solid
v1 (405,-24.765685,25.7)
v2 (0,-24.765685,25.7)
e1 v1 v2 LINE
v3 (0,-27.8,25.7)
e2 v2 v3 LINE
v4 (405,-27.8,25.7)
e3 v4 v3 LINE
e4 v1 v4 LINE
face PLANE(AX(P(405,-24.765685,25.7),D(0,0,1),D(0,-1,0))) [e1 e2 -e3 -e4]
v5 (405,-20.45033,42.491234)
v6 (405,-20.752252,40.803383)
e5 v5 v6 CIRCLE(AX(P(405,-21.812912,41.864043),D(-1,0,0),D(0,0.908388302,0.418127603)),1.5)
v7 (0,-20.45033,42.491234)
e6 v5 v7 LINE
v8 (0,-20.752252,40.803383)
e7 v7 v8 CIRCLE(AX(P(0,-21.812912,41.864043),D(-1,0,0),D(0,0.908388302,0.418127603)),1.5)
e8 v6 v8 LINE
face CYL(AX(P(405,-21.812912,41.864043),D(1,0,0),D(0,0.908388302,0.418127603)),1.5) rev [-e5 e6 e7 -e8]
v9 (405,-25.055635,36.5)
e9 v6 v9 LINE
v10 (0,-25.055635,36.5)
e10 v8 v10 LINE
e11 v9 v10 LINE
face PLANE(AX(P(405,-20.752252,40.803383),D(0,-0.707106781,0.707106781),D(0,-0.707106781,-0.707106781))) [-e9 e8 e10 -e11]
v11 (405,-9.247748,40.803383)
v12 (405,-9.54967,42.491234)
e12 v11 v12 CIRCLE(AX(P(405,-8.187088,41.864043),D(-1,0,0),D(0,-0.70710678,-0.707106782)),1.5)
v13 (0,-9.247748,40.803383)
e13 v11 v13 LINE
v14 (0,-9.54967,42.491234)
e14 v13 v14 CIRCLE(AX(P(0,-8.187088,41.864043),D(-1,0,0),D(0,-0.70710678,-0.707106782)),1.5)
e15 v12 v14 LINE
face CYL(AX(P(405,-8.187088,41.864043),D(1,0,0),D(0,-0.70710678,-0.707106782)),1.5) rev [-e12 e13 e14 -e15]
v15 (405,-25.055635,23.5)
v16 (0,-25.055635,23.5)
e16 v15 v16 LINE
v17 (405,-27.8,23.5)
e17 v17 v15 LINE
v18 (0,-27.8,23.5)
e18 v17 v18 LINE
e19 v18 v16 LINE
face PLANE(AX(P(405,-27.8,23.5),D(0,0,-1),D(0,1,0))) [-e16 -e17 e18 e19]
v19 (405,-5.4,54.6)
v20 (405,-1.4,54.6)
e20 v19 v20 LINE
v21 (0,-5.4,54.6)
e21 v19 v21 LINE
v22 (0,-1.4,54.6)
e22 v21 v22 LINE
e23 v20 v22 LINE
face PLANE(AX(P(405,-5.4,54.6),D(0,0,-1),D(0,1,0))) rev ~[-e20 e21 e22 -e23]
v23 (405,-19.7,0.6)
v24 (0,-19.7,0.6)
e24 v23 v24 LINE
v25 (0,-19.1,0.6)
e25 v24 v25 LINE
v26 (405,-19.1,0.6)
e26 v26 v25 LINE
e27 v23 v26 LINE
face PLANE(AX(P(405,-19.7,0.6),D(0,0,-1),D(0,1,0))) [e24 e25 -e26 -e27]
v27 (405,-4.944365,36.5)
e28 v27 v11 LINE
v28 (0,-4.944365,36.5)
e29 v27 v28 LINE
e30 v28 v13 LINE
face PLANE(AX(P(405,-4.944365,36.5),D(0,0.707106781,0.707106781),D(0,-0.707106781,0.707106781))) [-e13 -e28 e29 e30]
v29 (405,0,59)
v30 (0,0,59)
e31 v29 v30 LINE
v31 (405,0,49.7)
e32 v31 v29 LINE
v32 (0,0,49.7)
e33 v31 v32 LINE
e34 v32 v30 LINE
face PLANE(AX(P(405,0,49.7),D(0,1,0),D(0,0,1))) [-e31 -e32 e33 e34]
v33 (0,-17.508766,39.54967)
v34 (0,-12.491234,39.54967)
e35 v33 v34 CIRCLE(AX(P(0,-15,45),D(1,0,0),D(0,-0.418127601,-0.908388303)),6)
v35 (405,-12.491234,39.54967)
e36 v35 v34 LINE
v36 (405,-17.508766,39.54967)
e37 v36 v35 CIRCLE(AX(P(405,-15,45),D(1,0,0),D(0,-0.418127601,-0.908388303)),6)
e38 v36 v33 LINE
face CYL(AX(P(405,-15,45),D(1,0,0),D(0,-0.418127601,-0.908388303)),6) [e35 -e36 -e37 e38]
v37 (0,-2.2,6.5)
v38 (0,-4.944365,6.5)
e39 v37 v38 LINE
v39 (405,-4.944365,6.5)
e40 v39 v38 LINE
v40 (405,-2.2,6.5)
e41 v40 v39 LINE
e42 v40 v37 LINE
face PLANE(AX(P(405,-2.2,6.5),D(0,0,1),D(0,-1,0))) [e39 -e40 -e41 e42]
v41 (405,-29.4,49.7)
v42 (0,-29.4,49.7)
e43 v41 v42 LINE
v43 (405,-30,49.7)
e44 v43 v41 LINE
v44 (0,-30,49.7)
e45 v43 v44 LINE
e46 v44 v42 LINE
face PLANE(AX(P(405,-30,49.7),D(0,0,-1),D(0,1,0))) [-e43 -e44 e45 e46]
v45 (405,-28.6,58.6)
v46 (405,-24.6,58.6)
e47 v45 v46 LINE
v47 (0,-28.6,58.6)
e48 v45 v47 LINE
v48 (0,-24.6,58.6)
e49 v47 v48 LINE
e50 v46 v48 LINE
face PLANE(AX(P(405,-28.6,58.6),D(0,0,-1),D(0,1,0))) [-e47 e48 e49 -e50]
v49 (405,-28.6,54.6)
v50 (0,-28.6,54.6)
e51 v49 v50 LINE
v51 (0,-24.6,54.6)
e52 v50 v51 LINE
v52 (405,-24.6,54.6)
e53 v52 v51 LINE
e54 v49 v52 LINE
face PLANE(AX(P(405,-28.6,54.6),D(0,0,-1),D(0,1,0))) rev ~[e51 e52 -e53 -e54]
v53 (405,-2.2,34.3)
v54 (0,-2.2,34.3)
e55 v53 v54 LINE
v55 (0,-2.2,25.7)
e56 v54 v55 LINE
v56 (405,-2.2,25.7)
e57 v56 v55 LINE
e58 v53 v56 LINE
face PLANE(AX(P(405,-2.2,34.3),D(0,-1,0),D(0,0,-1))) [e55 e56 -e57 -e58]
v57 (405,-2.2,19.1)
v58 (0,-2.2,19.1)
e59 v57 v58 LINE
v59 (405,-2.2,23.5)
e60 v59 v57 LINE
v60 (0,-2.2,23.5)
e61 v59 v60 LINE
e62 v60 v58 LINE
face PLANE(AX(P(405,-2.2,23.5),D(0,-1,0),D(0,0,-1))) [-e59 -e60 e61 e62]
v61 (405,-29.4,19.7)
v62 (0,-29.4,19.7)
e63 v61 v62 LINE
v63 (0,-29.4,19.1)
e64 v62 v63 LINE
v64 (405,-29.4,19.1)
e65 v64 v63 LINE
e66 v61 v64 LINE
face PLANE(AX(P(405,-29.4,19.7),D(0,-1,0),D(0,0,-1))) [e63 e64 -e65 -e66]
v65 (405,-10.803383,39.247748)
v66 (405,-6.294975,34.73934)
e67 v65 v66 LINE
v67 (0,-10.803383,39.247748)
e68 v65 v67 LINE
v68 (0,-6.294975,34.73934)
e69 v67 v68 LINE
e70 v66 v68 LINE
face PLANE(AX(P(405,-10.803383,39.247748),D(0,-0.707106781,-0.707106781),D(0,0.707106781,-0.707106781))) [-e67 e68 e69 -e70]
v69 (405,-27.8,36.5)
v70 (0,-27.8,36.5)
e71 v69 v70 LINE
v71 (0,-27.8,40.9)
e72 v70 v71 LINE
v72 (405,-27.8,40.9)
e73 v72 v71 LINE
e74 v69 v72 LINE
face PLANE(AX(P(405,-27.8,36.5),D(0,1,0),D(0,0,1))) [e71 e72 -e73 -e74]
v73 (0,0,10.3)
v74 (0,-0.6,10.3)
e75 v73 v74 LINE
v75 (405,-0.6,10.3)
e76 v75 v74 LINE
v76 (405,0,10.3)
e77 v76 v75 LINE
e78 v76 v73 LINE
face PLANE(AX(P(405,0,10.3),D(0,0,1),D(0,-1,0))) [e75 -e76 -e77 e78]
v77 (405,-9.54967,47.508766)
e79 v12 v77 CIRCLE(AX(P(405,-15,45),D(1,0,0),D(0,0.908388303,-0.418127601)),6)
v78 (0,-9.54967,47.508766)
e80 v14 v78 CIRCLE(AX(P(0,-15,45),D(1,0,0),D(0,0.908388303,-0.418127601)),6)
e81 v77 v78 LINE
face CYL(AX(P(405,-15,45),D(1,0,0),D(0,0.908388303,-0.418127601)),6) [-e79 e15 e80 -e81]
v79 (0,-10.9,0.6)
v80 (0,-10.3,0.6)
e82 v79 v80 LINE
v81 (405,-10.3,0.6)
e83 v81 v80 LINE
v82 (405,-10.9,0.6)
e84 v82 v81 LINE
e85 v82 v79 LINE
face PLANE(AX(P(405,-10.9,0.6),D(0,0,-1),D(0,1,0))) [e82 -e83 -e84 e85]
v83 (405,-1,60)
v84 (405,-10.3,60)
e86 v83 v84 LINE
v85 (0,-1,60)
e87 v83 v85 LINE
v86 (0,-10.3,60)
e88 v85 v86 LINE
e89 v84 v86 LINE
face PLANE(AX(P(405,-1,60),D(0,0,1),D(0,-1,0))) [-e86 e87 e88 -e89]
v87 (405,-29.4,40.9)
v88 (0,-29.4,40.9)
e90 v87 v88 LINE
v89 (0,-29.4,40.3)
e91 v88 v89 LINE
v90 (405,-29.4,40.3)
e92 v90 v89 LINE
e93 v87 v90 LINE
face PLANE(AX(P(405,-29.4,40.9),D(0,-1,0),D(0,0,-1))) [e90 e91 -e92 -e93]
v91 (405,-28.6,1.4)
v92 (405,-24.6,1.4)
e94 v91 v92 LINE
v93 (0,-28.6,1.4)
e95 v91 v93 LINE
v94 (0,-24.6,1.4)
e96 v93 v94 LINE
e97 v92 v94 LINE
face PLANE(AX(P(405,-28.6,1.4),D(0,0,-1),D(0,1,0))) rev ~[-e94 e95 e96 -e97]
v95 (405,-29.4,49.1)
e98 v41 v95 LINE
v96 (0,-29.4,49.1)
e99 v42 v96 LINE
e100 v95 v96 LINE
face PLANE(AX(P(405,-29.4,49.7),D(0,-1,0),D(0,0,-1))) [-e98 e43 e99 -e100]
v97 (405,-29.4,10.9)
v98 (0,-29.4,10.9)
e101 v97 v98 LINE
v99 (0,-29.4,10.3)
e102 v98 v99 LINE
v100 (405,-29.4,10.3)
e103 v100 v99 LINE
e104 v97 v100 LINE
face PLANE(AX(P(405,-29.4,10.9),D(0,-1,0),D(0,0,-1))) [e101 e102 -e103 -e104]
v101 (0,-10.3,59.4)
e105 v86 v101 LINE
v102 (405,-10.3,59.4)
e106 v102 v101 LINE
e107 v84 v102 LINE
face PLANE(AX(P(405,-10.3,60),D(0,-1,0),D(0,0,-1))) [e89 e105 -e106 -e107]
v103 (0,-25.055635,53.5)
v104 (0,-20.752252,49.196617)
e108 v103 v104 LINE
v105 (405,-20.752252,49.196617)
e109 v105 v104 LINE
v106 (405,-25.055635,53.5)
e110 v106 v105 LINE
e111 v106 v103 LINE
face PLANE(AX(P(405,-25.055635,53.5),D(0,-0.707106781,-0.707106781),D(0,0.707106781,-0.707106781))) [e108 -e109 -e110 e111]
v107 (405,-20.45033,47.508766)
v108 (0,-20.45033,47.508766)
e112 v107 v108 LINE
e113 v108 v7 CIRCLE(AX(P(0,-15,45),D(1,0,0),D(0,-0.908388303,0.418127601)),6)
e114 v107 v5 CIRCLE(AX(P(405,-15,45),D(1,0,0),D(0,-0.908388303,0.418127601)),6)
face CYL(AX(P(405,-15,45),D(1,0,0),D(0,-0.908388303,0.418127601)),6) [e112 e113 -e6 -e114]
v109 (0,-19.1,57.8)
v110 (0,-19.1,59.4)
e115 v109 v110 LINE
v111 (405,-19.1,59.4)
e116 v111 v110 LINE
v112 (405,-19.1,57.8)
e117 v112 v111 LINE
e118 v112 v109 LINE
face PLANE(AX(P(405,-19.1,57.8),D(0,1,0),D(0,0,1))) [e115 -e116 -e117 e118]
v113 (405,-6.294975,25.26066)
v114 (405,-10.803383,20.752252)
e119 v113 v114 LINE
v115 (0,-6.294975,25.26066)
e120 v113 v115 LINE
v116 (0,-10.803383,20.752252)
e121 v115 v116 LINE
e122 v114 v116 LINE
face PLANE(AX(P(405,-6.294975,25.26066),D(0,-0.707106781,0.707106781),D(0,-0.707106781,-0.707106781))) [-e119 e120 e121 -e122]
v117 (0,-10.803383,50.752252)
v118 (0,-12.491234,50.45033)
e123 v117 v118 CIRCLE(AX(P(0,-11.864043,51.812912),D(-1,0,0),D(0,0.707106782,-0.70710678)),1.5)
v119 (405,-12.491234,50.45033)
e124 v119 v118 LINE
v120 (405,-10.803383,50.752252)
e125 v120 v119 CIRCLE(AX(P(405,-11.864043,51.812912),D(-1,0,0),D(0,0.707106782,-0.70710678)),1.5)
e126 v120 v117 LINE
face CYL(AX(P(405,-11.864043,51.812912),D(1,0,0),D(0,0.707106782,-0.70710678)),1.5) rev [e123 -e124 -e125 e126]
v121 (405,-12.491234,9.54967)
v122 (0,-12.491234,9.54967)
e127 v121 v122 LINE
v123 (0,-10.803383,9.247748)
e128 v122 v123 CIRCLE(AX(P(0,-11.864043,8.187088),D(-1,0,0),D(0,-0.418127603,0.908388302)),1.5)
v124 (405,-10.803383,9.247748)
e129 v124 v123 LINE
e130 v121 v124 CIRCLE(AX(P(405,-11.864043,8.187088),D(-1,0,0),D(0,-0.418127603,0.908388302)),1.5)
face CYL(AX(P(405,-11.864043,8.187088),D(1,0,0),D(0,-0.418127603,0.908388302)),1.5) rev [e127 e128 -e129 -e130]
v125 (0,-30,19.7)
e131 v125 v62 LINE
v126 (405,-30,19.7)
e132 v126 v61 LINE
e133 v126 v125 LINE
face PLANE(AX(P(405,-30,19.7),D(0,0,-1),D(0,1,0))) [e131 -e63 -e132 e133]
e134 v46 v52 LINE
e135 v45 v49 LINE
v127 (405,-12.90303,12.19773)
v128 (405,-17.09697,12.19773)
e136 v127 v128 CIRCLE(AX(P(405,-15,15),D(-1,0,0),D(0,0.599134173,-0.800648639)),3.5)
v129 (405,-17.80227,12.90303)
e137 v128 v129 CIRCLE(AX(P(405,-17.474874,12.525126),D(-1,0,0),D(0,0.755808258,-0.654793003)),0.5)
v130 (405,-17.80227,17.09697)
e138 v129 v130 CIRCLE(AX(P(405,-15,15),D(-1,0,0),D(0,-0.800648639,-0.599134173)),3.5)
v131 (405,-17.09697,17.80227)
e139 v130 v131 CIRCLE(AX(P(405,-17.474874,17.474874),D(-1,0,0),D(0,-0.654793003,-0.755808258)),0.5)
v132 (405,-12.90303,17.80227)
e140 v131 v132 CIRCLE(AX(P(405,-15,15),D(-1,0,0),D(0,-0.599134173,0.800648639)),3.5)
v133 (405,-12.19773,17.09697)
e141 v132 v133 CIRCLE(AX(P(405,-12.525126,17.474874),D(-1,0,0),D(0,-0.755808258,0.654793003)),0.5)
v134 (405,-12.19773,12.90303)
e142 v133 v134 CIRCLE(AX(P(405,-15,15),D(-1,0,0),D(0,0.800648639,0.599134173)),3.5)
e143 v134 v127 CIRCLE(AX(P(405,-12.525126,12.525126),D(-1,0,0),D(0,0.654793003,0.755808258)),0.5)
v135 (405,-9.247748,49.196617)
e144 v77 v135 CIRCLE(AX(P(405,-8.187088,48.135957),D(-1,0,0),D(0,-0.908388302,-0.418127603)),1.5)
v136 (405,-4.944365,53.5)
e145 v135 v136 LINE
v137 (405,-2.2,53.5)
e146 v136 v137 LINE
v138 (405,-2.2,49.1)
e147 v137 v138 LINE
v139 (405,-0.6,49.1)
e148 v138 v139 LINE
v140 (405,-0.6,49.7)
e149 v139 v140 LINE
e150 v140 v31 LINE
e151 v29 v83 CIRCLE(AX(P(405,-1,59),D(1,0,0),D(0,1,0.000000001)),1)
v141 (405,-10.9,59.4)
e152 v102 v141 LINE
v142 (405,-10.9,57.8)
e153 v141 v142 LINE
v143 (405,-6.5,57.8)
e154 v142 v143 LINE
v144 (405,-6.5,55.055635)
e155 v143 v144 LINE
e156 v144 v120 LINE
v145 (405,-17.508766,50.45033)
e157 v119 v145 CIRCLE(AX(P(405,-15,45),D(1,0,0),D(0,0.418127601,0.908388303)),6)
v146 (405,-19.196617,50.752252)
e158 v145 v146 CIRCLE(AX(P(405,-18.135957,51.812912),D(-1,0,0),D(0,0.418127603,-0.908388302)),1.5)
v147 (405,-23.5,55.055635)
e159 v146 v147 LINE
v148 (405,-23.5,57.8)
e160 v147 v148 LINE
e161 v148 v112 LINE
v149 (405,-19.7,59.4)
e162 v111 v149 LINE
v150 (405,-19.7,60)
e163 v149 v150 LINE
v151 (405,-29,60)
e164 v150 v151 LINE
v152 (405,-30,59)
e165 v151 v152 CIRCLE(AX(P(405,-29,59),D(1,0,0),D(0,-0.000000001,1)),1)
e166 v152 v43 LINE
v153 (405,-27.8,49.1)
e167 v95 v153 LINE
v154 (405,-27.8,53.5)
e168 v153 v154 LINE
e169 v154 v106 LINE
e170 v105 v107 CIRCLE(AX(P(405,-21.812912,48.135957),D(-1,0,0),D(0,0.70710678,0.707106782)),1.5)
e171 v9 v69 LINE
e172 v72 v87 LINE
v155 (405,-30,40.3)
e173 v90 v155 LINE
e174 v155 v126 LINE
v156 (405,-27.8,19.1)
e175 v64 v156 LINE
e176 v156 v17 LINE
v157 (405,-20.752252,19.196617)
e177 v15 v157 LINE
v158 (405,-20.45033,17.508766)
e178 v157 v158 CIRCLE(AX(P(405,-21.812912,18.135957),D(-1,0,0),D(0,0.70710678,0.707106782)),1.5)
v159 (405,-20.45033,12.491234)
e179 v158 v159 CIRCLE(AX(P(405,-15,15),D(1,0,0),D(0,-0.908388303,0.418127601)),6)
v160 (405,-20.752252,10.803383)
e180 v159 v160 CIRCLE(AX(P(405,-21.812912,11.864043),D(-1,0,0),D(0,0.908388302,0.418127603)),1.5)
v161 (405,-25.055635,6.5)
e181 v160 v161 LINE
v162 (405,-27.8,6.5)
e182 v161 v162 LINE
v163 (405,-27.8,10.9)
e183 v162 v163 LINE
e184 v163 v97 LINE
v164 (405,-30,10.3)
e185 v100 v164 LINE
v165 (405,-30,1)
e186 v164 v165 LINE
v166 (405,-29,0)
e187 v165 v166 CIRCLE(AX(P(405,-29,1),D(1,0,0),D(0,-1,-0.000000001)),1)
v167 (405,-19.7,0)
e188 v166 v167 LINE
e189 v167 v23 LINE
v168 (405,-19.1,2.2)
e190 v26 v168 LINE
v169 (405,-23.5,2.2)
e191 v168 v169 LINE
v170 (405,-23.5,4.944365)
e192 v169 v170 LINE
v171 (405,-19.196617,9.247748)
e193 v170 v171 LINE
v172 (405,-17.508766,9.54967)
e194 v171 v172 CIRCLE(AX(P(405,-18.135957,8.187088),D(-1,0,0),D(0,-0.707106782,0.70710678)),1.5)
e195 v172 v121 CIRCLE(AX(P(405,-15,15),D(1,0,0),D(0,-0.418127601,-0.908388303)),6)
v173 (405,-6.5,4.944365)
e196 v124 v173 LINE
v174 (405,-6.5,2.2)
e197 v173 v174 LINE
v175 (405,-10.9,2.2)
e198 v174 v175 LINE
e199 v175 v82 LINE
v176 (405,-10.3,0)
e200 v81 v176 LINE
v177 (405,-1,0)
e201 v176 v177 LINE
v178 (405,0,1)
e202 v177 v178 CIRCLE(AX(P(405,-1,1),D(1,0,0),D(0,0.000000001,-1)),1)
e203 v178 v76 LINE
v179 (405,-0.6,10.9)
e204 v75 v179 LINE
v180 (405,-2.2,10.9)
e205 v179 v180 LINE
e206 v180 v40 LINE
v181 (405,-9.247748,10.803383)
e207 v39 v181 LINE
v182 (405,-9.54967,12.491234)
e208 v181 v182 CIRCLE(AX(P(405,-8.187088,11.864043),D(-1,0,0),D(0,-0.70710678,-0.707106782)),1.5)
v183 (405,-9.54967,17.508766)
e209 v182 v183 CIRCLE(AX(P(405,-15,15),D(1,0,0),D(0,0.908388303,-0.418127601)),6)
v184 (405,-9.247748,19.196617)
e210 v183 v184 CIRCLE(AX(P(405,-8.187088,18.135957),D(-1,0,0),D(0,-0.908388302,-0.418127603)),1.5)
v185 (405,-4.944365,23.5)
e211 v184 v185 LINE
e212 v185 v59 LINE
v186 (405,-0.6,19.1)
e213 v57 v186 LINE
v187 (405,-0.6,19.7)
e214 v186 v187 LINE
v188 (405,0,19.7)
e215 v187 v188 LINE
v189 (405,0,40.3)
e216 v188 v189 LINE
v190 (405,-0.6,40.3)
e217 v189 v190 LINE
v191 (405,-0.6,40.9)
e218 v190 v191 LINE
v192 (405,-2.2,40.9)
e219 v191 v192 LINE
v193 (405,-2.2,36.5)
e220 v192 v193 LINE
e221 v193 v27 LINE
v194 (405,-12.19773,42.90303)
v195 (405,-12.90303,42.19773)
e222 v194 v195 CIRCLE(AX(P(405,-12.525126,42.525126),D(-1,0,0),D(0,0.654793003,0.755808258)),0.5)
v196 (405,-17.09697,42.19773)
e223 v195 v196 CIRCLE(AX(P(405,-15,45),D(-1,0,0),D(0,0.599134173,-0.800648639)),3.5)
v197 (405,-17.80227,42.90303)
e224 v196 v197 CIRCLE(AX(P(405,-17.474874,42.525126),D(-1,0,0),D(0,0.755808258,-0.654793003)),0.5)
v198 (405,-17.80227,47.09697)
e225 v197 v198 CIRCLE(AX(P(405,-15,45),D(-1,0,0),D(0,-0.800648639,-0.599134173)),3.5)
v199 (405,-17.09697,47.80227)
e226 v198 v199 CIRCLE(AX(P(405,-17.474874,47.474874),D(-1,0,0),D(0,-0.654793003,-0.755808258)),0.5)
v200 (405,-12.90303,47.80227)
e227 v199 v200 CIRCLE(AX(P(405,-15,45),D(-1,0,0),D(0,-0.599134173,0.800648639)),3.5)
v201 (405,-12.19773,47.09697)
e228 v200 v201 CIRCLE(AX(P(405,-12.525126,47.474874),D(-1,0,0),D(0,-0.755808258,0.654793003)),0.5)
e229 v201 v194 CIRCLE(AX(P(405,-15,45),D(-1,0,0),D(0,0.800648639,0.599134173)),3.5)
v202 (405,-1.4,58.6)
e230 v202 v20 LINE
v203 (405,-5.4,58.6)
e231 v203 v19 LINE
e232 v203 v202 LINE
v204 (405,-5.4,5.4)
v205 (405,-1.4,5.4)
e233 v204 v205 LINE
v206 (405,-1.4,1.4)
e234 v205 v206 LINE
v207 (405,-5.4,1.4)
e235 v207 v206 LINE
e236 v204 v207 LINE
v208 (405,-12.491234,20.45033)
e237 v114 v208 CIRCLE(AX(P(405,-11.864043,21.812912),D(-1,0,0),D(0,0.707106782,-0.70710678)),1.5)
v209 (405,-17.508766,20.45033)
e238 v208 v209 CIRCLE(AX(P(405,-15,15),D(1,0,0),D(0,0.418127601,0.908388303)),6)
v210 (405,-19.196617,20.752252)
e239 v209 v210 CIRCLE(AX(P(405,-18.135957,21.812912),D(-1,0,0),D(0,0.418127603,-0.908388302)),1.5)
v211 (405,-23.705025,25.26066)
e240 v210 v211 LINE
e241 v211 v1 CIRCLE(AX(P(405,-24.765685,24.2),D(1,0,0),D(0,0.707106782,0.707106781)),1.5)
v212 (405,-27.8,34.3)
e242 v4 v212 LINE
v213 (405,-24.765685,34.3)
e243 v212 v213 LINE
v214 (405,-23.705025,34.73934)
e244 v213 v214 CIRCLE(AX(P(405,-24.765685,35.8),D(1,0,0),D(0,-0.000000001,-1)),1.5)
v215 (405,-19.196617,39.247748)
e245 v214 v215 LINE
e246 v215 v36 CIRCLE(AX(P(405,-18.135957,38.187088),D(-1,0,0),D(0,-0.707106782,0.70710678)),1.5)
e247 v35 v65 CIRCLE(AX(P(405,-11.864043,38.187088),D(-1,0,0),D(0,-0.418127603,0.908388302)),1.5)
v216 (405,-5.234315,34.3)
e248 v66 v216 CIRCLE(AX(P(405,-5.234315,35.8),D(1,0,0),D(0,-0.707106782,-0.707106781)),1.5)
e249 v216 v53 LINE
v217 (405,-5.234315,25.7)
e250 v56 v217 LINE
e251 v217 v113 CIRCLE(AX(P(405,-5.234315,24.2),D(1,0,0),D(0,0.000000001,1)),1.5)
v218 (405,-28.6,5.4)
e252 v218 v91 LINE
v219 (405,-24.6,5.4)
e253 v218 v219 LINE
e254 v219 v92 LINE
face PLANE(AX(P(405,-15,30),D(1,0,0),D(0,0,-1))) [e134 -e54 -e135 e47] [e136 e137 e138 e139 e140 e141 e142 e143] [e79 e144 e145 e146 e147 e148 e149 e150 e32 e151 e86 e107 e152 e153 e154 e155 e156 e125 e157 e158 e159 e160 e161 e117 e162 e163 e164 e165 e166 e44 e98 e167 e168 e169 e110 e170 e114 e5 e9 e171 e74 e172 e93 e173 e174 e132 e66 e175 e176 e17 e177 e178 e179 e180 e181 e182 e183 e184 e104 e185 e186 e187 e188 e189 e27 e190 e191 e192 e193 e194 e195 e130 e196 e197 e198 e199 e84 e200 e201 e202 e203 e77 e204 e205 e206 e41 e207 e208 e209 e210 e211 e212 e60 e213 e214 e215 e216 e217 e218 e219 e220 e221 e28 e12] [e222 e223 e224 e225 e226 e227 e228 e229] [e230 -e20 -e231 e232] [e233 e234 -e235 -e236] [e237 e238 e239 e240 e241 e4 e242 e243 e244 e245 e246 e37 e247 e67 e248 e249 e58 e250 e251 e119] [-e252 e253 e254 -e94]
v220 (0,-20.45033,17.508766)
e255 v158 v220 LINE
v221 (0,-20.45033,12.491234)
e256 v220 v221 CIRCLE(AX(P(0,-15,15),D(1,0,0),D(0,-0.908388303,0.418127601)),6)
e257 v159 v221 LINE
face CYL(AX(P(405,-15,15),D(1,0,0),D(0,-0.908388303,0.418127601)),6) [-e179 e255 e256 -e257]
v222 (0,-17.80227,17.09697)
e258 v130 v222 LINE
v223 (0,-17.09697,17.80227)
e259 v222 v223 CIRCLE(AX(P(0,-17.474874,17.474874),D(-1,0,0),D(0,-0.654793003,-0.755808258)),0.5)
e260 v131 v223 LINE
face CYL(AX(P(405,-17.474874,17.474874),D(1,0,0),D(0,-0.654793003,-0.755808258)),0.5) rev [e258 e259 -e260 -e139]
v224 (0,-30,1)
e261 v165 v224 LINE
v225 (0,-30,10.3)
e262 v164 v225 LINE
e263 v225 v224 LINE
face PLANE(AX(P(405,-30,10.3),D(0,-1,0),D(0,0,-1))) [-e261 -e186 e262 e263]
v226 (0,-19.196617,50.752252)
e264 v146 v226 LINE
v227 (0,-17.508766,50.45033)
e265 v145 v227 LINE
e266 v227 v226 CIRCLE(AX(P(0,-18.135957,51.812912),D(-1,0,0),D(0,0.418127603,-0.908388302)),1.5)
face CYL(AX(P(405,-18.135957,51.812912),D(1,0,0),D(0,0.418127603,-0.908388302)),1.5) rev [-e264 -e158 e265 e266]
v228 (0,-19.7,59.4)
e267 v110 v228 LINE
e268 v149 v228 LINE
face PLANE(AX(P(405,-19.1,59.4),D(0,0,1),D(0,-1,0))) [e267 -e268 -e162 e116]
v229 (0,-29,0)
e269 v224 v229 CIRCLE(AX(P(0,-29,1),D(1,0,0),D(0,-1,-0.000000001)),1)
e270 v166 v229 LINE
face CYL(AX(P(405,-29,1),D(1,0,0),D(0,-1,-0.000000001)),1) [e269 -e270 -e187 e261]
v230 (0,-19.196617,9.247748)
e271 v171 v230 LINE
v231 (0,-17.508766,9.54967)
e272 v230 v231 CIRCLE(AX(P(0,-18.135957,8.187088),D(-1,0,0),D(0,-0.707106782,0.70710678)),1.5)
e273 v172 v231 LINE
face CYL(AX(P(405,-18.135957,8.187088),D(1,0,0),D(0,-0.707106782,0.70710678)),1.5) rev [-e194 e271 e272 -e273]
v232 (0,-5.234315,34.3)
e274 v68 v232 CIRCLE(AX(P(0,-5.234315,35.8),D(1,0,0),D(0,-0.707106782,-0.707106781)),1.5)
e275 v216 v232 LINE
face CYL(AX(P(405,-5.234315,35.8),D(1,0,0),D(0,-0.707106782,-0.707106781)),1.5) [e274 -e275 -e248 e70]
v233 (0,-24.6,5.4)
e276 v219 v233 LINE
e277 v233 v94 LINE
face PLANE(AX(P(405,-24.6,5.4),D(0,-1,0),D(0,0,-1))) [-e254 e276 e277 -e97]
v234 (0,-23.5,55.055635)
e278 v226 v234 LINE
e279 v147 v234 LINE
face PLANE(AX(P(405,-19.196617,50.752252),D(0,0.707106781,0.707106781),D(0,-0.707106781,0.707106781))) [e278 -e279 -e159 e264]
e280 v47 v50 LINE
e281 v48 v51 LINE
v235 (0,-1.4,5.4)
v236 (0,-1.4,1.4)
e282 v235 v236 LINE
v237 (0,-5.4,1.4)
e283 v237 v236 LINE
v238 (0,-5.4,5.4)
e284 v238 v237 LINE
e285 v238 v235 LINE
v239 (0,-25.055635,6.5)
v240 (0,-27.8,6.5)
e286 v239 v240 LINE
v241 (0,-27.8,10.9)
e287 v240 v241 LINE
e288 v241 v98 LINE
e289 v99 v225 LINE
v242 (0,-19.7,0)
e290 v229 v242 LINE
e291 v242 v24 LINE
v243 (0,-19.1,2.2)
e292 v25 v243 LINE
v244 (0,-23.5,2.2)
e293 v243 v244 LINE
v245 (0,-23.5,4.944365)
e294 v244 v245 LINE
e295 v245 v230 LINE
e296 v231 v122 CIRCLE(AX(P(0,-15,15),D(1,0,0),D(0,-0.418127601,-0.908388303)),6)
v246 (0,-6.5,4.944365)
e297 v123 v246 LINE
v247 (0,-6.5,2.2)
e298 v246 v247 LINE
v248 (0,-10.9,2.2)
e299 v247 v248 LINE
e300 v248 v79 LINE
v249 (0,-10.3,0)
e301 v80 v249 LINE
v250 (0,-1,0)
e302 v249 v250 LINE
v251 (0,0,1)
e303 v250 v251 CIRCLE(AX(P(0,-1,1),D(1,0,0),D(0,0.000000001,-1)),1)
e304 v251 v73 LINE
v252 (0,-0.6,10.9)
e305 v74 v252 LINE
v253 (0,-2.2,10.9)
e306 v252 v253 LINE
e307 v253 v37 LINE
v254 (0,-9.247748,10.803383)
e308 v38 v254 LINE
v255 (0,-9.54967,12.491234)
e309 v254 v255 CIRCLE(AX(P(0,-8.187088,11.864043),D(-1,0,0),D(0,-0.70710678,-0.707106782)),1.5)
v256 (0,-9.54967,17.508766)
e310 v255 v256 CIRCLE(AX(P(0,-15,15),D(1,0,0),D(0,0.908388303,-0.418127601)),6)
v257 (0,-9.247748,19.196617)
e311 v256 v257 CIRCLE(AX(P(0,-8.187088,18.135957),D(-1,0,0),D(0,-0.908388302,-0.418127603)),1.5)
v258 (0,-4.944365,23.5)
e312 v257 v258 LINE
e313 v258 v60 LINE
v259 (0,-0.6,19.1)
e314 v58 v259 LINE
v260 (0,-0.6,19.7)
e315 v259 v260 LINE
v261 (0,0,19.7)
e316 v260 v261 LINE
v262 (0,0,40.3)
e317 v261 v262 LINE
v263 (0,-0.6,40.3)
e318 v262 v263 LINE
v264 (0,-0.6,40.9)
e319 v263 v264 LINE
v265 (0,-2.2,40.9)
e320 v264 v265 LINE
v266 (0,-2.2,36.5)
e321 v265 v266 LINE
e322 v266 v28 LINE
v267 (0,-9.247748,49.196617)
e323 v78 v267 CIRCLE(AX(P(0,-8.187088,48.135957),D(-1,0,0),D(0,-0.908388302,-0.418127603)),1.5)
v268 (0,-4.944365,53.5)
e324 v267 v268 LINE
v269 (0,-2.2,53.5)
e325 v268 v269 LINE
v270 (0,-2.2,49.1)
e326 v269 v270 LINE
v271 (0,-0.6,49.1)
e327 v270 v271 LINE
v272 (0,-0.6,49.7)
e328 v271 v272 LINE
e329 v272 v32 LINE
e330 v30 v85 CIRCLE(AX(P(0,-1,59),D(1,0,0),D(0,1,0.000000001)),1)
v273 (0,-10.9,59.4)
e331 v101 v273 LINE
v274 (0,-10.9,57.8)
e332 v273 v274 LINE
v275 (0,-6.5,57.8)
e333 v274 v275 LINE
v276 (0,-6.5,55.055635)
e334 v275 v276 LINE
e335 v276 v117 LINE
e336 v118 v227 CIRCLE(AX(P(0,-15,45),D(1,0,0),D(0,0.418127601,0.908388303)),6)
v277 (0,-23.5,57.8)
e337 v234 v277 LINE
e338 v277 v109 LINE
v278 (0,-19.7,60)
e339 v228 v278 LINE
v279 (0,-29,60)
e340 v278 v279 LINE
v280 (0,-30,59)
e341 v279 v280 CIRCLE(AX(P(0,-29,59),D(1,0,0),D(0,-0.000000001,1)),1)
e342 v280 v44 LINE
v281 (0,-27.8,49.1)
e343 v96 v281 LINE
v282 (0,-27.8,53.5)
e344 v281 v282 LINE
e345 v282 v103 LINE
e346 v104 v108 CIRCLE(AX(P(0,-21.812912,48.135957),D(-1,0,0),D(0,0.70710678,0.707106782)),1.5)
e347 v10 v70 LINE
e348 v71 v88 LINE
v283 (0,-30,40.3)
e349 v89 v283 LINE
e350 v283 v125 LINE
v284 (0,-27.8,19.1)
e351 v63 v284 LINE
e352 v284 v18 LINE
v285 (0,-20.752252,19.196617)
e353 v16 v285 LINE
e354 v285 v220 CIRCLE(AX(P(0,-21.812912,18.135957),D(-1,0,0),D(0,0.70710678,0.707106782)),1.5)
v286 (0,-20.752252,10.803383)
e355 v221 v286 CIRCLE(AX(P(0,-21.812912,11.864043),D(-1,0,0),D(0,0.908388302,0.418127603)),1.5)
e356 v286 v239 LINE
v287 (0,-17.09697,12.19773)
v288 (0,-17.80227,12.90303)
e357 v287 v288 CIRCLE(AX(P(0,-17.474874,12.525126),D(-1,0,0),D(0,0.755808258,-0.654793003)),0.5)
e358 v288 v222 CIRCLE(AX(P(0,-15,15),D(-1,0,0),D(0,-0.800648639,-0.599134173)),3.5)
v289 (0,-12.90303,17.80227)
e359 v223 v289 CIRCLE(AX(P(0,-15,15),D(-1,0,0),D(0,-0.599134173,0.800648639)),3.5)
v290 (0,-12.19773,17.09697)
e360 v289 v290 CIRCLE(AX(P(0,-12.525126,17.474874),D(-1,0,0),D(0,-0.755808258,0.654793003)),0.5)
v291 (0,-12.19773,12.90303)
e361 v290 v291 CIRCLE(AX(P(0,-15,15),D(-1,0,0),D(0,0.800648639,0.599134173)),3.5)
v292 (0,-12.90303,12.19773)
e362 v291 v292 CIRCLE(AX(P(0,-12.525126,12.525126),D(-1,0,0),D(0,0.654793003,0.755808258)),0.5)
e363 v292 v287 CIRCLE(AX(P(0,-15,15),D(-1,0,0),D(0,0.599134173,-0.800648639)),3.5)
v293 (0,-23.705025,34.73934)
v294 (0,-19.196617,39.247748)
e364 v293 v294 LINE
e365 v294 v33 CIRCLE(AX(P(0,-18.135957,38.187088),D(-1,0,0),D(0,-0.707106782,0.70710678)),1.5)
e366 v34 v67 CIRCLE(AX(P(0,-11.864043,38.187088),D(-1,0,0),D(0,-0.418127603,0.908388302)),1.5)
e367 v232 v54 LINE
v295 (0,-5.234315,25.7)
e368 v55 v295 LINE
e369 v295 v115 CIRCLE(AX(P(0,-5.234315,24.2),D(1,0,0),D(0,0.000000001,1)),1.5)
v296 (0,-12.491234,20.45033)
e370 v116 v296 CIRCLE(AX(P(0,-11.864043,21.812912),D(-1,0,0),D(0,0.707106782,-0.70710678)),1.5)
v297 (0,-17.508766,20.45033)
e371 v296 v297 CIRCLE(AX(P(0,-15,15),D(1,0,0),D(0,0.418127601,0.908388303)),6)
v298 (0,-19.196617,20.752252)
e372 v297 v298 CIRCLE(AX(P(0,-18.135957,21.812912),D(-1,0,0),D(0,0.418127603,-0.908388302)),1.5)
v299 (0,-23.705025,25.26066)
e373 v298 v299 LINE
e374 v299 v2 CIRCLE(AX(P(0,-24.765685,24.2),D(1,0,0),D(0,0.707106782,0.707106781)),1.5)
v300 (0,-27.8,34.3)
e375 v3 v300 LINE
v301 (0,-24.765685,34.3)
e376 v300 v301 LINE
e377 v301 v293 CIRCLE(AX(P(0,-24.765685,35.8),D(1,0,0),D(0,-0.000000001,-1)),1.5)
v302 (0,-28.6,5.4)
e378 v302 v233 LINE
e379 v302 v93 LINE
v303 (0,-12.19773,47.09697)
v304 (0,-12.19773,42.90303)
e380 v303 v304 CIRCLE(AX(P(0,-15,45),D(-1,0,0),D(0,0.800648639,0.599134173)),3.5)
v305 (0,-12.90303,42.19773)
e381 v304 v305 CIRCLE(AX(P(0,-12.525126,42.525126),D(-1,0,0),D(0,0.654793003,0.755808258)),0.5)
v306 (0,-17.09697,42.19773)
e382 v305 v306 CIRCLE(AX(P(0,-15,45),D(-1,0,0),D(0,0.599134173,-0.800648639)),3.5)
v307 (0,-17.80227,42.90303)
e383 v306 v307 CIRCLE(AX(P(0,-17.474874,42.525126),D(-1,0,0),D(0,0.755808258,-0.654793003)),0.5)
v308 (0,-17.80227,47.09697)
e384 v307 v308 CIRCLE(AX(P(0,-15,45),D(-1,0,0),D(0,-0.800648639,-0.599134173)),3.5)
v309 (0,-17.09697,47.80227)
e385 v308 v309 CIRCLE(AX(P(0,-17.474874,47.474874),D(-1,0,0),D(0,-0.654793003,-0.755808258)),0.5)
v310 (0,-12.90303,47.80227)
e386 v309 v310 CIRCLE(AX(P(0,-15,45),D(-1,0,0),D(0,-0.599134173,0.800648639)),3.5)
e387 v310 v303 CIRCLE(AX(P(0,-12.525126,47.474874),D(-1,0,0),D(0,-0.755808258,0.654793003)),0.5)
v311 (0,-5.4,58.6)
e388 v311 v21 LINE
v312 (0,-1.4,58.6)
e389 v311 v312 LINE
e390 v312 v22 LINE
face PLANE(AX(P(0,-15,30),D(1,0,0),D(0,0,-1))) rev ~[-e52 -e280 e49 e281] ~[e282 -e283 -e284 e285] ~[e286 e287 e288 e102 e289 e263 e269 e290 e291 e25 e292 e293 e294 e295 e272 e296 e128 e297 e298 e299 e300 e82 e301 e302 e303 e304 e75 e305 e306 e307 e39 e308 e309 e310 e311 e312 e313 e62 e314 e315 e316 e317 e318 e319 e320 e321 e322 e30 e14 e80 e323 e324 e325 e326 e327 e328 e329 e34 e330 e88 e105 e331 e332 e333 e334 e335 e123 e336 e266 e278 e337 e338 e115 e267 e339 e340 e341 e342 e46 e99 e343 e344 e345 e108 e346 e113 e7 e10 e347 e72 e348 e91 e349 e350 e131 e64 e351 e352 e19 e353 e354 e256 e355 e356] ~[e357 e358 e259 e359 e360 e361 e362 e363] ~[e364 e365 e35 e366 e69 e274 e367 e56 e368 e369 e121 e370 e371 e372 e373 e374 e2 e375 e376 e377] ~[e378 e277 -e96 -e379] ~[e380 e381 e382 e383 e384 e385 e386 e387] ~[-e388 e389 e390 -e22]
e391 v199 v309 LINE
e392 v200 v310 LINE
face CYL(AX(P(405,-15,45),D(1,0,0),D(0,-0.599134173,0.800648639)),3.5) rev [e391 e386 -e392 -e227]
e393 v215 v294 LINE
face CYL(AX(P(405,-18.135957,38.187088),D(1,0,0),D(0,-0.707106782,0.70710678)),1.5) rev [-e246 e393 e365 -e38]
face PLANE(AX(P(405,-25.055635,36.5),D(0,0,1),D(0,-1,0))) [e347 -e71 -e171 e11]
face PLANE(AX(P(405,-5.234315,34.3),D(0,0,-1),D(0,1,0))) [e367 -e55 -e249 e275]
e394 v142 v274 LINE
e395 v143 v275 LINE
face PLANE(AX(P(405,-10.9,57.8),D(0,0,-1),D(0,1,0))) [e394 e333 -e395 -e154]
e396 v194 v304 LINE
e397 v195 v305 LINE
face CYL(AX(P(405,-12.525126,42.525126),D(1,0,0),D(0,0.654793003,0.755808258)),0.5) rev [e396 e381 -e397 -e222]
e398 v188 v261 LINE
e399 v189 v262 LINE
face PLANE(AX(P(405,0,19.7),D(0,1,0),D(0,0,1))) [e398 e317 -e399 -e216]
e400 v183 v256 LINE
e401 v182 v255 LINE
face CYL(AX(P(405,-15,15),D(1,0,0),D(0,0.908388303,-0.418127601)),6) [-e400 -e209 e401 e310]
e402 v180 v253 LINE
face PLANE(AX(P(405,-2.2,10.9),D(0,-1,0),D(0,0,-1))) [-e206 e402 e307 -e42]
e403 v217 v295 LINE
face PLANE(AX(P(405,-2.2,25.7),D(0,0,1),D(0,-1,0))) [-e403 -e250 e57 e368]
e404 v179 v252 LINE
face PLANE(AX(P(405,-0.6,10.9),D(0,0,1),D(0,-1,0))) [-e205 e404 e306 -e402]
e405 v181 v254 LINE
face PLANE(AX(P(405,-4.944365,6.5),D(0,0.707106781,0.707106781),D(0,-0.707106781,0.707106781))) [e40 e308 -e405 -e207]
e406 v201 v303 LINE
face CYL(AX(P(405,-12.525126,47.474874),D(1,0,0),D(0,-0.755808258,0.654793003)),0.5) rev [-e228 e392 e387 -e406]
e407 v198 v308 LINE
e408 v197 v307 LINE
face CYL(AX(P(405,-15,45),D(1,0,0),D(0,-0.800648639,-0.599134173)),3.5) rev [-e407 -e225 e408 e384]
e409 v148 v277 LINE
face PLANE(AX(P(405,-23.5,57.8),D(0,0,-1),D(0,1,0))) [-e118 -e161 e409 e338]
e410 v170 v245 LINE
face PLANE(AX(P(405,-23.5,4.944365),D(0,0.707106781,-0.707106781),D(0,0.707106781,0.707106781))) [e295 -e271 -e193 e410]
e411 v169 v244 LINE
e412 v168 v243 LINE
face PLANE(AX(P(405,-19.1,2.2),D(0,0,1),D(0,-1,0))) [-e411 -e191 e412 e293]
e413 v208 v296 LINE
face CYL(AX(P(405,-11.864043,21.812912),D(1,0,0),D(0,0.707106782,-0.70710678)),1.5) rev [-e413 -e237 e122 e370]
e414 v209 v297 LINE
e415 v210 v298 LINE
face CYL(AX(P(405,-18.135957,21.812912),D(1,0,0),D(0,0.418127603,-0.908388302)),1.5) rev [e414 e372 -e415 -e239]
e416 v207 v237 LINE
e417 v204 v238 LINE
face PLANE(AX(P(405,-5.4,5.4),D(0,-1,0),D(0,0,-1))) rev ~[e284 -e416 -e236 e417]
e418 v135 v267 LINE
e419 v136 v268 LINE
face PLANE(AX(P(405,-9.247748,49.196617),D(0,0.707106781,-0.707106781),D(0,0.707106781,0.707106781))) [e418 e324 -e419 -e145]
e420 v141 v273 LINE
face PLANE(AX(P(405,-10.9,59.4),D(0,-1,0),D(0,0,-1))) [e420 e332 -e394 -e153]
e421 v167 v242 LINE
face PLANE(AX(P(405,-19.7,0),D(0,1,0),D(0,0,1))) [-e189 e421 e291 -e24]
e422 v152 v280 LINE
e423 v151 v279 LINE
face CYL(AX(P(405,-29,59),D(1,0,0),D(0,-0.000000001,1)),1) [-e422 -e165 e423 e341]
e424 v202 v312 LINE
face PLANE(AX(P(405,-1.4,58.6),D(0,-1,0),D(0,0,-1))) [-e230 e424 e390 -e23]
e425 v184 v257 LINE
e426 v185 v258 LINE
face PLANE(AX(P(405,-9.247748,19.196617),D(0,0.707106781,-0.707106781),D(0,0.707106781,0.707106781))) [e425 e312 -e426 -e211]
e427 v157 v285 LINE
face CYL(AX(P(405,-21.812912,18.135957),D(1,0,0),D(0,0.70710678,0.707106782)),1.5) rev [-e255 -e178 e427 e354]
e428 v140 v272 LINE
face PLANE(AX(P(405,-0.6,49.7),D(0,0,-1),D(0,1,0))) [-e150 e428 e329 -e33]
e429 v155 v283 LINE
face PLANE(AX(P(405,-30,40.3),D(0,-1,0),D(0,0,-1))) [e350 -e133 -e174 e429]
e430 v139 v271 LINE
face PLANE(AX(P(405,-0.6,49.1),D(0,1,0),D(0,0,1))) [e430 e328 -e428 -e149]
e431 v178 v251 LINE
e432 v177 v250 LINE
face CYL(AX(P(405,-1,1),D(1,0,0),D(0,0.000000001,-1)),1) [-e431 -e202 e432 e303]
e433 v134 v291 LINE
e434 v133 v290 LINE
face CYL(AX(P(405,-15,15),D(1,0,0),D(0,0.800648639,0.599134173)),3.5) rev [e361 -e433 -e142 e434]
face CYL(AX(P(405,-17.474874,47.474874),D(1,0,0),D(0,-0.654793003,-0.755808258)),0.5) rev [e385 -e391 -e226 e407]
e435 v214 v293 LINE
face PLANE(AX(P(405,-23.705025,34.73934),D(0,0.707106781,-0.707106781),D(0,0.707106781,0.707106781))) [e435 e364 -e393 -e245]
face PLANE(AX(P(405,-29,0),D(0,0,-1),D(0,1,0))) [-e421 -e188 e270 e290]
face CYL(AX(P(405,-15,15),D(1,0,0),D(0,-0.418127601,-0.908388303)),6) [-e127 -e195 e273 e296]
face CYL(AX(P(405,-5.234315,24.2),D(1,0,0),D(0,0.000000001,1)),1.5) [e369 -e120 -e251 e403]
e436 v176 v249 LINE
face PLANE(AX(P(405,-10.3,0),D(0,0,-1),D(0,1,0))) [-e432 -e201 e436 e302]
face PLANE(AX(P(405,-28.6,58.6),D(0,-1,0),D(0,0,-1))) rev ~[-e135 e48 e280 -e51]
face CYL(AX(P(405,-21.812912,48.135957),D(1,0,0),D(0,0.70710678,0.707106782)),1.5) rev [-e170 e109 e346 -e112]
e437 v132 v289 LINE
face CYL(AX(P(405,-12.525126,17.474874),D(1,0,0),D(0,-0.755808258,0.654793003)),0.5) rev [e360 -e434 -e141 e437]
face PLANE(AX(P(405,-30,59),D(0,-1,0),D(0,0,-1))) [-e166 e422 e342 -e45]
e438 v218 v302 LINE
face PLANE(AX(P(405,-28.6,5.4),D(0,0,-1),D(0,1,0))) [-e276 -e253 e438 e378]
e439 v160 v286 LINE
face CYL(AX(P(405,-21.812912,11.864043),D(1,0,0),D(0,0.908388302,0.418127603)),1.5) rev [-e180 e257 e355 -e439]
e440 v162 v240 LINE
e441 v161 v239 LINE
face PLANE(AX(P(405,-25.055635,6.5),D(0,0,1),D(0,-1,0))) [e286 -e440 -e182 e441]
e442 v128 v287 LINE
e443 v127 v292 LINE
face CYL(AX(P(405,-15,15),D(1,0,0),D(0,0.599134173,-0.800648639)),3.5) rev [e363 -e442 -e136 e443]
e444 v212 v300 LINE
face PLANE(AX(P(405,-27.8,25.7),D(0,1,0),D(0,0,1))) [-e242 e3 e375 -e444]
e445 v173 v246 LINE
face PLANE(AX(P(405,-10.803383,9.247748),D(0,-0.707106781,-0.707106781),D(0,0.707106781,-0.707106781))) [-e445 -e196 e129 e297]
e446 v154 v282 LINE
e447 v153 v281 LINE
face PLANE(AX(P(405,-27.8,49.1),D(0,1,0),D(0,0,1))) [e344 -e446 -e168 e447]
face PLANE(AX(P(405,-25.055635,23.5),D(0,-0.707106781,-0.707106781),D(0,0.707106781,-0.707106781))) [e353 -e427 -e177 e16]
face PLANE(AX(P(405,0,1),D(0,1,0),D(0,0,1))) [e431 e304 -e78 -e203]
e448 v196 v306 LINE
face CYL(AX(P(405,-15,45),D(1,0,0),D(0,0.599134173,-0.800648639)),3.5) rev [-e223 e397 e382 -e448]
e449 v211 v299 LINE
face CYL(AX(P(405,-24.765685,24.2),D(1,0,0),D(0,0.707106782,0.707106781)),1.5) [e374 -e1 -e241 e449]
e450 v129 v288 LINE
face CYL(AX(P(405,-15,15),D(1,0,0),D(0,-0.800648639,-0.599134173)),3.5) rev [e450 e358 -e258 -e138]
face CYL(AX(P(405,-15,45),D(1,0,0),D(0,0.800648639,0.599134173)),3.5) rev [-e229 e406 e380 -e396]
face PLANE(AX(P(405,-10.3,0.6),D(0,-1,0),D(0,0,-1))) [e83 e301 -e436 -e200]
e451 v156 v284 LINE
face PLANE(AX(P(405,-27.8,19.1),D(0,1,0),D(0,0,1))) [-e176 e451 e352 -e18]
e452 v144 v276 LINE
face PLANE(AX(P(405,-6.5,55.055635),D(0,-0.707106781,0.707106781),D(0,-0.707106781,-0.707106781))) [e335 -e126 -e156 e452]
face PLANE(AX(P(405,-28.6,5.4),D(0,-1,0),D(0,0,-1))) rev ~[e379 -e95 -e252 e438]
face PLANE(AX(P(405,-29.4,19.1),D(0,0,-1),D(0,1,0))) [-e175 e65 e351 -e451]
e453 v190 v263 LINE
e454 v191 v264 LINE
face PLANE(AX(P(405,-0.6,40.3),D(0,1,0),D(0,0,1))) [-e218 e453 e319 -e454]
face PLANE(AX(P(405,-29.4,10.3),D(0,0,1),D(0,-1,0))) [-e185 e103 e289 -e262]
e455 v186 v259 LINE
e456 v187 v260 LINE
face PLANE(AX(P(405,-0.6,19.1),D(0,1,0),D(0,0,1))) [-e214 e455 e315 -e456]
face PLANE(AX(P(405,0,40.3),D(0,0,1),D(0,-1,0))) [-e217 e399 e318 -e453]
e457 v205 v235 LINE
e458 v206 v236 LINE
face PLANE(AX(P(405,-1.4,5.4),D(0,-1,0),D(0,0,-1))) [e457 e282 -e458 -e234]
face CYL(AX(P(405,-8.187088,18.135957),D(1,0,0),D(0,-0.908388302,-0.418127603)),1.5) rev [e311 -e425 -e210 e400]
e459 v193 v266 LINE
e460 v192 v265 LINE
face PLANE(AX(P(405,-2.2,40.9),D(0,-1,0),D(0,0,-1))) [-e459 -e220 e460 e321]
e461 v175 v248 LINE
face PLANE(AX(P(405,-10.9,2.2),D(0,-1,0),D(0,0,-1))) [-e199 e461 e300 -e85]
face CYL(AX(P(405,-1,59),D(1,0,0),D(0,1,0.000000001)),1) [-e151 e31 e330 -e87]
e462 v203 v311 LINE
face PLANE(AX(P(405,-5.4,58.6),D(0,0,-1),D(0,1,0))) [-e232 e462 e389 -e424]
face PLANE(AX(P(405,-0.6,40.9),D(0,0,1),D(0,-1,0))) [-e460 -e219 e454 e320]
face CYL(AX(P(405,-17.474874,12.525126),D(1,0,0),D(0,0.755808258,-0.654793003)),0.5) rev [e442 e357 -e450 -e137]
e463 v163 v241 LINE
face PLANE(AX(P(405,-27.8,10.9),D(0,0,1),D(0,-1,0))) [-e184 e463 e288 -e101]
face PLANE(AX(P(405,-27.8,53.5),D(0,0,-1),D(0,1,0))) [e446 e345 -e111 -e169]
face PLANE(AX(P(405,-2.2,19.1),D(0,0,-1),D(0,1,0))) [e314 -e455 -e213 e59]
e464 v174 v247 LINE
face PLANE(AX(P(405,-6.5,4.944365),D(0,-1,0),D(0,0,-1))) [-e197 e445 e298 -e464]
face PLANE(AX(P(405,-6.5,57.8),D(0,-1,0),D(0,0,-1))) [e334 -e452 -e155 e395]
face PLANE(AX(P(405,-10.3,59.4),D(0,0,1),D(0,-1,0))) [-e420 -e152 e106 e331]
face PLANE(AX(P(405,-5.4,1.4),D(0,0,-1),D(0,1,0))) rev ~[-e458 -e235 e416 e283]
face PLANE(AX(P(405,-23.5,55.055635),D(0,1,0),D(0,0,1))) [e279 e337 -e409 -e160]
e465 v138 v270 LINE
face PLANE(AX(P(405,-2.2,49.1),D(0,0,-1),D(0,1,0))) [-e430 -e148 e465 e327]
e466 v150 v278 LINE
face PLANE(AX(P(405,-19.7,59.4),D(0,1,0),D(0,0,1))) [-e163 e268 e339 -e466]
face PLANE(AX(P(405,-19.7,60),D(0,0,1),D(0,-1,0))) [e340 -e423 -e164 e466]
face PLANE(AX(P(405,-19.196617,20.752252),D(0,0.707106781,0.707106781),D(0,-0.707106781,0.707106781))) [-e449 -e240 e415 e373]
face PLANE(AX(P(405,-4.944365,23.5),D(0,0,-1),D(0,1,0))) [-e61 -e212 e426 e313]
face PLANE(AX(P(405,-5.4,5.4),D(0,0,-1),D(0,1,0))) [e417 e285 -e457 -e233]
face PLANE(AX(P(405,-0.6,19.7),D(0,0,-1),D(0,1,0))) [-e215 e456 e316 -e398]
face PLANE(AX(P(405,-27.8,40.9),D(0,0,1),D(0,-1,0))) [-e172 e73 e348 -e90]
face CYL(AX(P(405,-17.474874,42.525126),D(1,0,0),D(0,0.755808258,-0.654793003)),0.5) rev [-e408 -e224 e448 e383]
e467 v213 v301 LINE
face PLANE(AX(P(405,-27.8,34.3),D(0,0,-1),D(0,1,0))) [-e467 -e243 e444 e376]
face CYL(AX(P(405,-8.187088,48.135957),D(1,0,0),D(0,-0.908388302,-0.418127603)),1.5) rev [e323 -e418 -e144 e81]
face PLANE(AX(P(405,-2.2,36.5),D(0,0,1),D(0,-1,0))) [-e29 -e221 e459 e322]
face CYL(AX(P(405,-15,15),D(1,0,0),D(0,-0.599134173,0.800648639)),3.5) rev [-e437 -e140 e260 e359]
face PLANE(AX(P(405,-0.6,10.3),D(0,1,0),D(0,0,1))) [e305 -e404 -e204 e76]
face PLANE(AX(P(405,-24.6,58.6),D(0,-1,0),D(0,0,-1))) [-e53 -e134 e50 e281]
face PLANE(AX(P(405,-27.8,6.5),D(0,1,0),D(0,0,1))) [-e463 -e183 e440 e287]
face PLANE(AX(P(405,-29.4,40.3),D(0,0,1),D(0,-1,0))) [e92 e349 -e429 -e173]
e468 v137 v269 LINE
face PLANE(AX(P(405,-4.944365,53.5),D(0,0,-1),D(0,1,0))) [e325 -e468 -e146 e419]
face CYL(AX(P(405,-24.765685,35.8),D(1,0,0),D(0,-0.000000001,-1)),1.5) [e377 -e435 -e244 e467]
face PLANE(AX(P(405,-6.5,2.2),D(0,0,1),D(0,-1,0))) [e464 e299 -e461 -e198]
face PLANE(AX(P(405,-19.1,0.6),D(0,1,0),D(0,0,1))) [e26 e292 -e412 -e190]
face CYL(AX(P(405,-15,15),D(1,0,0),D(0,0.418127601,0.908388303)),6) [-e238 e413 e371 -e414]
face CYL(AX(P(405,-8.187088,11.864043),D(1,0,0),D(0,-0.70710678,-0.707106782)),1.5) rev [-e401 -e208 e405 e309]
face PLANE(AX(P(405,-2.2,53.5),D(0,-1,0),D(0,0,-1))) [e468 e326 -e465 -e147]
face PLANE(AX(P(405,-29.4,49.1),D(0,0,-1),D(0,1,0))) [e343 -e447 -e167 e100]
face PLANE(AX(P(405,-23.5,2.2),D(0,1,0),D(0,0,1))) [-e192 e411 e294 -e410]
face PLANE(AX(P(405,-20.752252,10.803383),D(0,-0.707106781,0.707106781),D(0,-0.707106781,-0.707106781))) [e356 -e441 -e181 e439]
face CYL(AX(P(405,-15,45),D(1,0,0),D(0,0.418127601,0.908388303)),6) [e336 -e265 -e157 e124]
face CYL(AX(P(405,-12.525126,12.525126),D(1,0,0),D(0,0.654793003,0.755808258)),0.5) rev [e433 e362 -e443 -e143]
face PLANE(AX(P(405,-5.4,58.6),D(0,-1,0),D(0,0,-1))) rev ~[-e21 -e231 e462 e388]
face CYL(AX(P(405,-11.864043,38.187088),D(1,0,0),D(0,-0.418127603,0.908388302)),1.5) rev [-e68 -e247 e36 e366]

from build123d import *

# Parameters (mm, degrees)
SKETCH1_W           = 4
SKETCH1_H           = 4
BOSS_EXTRUDE1_DEPTH = 405


with BuildPart() as part:
    # Sketch1 → Boss-Extrude1 (new body)
    with BuildSketch(Plane(origin=(405, 0, 0), x_dir=(0, 0, -1), z_dir=(1, 0, 0))):
        with BuildLine():
            Line((-10.803382818, -20.752252101), (-6.5, -25.055634919))
            Line((-6.5, -25.055634919), (-6.5, -27.8))
            Line((-6.5, -27.8), (-10.9, -27.8))
            Line((-10.9, -27.8), (-10.9, -29.4))
            Line((-10.9, -29.4), (-10.3, -29.4))
            Line((-10.3, -29.4), (-10.3, -30))
            Line((-10.3, -30), (-1, -30))
            ThreePointArc((-1, -30), (-0.292893219, -29.707106781), (0, -29))
            Line((0, -29), (0, -19.7))
            Line((0, -19.7), (-0.6, -19.7))
            Line((-0.6, -19.7), (-0.6, -19.1))
            Line((-0.6, -19.1), (-2.2, -19.1))
            Line((-2.2, -19.1), (-2.2, -23.5))
            Line((-2.2, -23.5), (-4.944365081, -23.5))
            Line((-4.944365081, -23.5), (-9.247747899, -19.196617182))
            ThreePointArc((-9.247747899, -19.196617182), (-9.66365027, -18.400083987), (-9.549670182, -17.508765608))
            ThreePointArc((-9.549670182, -17.508765608), (-9, -15), (-9.549670182, -12.491234392))
            ThreePointArc((-9.549670182, -12.491234392), (-9.66365027, -11.599916013), (-9.247747899, -10.803382818))
            Line((-9.247747899, -10.803382818), (-4.944365081, -6.5))
            Line((-4.944365081, -6.5), (-2.2, -6.5))
            Line((-2.2, -6.5), (-2.2, -10.9))
            Line((-2.2, -10.9), (-0.6, -10.9))
            Line((-0.6, -10.9), (-0.6, -10.3))
            Line((-0.6, -10.3), (0, -10.3))
            Line((0, -10.3), (0, -1))
            ThreePointArc((0, -1), (-0.292893219, -0.292893219), (-1, 0))
            Line((-1, 0), (-10.3, 0))
            Line((-10.3, 0), (-10.3, -0.6))
            Line((-10.3, -0.6), (-10.9, -0.6))
            Line((-10.9, -0.6), (-10.9, -2.2))
            Line((-10.9, -2.2), (-6.5, -2.2))
            Line((-6.5, -2.2), (-6.5, -4.944365081))
            Line((-6.5, -4.944365081), (-10.803382818, -9.247747899))
            ThreePointArc((-10.803382818, -9.247747899), (-11.599916013, -9.66365027), (-12.491234392, -9.549670182))
            ThreePointArc((-12.491234392, -9.549670182), (-15, -9), (-17.508765608, -9.549670182))
            ThreePointArc((-17.508765608, -9.549670182), (-18.400083987, -9.66365027), (-19.196617182, -9.247747899))
            Line((-19.196617182, -9.247747899), (-23.5, -4.944365081))
            Line((-23.5, -4.944365081), (-23.5, -2.2))
            Line((-23.5, -2.2), (-19.1, -2.2))
            Line((-19.1, -2.2), (-19.1, -0.6))
            Line((-19.1, -0.6), (-19.7, -0.6))
            Line((-19.7, -0.6), (-19.7, 0))
            Line((-19.7, 0), (-40.3, 0))
            Line((-40.3, 0), (-40.3, -0.6))
            Line((-40.3, -0.6), (-40.9, -0.6))
            Line((-40.9, -0.6), (-40.9, -2.2))
            Line((-40.9, -2.2), (-36.5, -2.2))
            Line((-36.5, -2.2), (-36.5, -4.944365081))
            Line((-36.5, -4.944365081), (-40.803382818, -9.247747899))
            ThreePointArc((-40.803382818, -9.247747899), (-41.599916013, -9.66365027), (-42.491234392, -9.549670182))
            ThreePointArc((-42.491234392, -9.549670182), (-45, -9), (-47.508765608, -9.549670182))
            ThreePointArc((-47.508765608, -9.549670182), (-48.400083987, -9.66365027), (-49.196617182, -9.247747899))
            Line((-49.196617182, -9.247747899), (-53.5, -4.944365081))
            Line((-53.5, -4.944365081), (-53.5, -2.2))
            Line((-53.5, -2.2), (-49.1, -2.2))
            Line((-49.1, -2.2), (-49.1, -0.6))
            Line((-49.1, -0.6), (-49.7, -0.6))
            Line((-49.7, -0.6), (-49.7, 0))
            Line((-49.7, 0), (-59, 0))
            ThreePointArc((-59, 0), (-59.707106781, -0.292893219), (-60, -1))
            Line((-60, -1), (-60, -10.3))
            Line((-60, -10.3), (-59.4, -10.3))
            Line((-59.4, -10.3), (-59.4, -10.9))
            Line((-59.4, -10.9), (-57.8, -10.9))
            Line((-57.8, -10.9), (-57.8, -6.5))
            Line((-57.8, -6.5), (-55.055634919, -6.5))
            Line((-55.055634919, -6.5), (-50.752252101, -10.803382818))
            ThreePointArc((-50.752252101, -10.803382818), (-50.33634973, -11.599916013), (-50.450329818, -12.491234392))
            ThreePointArc((-50.450329818, -12.491234392), (-51, -15), (-50.450329818, -17.508765608))
            ThreePointArc((-50.450329818, -17.508765608), (-50.33634973, -18.400083987), (-50.752252101, -19.196617182))
            Line((-50.752252101, -19.196617182), (-55.055634919, -23.5))
            Line((-55.055634919, -23.5), (-57.8, -23.5))
            Line((-57.8, -23.5), (-57.8, -19.1))
            Line((-57.8, -19.1), (-59.4, -19.1))
            Line((-59.4, -19.1), (-59.4, -19.7))
            Line((-59.4, -19.7), (-60, -19.7))
            Line((-60, -19.7), (-60, -29))
            ThreePointArc((-60, -29), (-59.707106781, -29.707106781), (-59, -30))
            Line((-59, -30), (-49.7, -30))
            Line((-49.7, -30), (-49.7, -29.4))
            Line((-49.7, -29.4), (-49.1, -29.4))
            Line((-49.1, -29.4), (-49.1, -27.8))
            Line((-49.1, -27.8), (-53.5, -27.8))
            Line((-53.5, -27.8), (-53.5, -25.055634919))
            Line((-53.5, -25.055634919), (-49.196617182, -20.752252101))
            ThreePointArc((-49.196617182, -20.752252101), (-48.400083987, -20.33634973), (-47.508765608, -20.450329818))
            ThreePointArc((-47.508765608, -20.450329818), (-45, -21), (-42.491234392, -20.450329818))
            ThreePointArc((-42.491234392, -20.450329818), (-41.599916013, -20.33634973), (-40.803382818, -20.752252101))
            Line((-40.803382818, -20.752252101), (-36.5, -25.055634919))
            Line((-36.5, -25.055634919), (-36.5, -27.8))
            Line((-36.5, -27.8), (-40.9, -27.8))
            Line((-40.9, -27.8), (-40.9, -29.4))
            Line((-40.9, -29.4), (-40.3, -29.4))
            Line((-40.3, -29.4), (-40.3, -30))
            Line((-40.3, -30), (-19.7, -30))
            Line((-19.7, -30), (-19.7, -29.4))
            Line((-19.7, -29.4), (-19.1, -29.4))
            Line((-19.1, -29.4), (-19.1, -27.8))
            Line((-19.1, -27.8), (-23.5, -27.8))
            Line((-23.5, -27.8), (-23.5, -25.055634919))
            Line((-23.5, -25.055634919), (-19.196617182, -20.752252101))
            ThreePointArc((-19.196617182, -20.752252101), (-18.400083987, -20.33634973), (-17.508765608, -20.450329818))
            ThreePointArc((-17.508765608, -20.450329818), (-15, -21), (-12.491234392, -20.450329818))
            ThreePointArc((-12.491234392, -20.450329818), (-11.599916013, -20.33634973), (-10.803382818, -20.752252101))
        make_face()
        with Locations((-56.6, -26.6)):
            Rectangle(SKETCH1_W, SKETCH1_H, mode=Mode.SUBTRACT)
        with Locations((-56.6, -3.4)):
            Rectangle(SKETCH1_W, SKETCH1_H, mode=Mode.SUBTRACT)
        with Locations((-3.4, -26.6)):
            Rectangle(SKETCH1_W, SKETCH1_H, mode=Mode.SUBTRACT)
        with Locations((-3.4, -3.4)):
            Rectangle(SKETCH1_W, SKETCH1_H, mode=Mode.SUBTRACT)
        with BuildLine():
            Line((-39.247747899, -10.803382818), (-34.739339828, -6.294974747))
            ThreePointArc((-34.739339828, -6.294974747), (-34.414180701, -5.808339724), (-34.3, -5.234314575))
            Line((-34.3, -5.234314575), (-34.3, -2.2))
            Line((-34.3, -2.2), (-25.7, -2.2))
            Line((-25.7, -2.2), (-25.7, -5.234314575))
            ThreePointArc((-25.7, -5.234314575), (-25.585819299, -5.808339724), (-25.260660172, -6.294974747))
            Line((-25.260660172, -6.294974747), (-20.752252101, -10.803382818))
            ThreePointArc((-20.752252101, -10.803382818), (-20.33634973, -11.599916013), (-20.450329818, -12.491234392))
            ThreePointArc((-20.450329818, -12.491234392), (-21, -15), (-20.450329818, -17.508765608))
            ThreePointArc((-20.450329818, -17.508765608), (-20.33634973, -18.400083987), (-20.752252101, -19.196617182))
            Line((-20.752252101, -19.196617182), (-25.260660172, -23.705025253))
            ThreePointArc((-25.260660172, -23.705025253), (-25.585819299, -24.191660276), (-25.7, -24.765685425))
            Line((-25.7, -24.765685425), (-25.7, -27.8))
            Line((-25.7, -27.8), (-34.3, -27.8))
            Line((-34.3, -27.8), (-34.3, -24.765685425))
            ThreePointArc((-34.3, -24.765685425), (-34.414180701, -24.191660276), (-34.739339828, -23.705025253))
            Line((-34.739339828, -23.705025253), (-39.247747899, -19.196617182))
            ThreePointArc((-39.247747899, -19.196617182), (-39.66365027, -18.400083987), (-39.549670182, -17.508765608))
            ThreePointArc((-39.549670182, -17.508765608), (-39, -15), (-39.549670182, -12.491234392))
            ThreePointArc((-39.549670182, -12.491234392), (-39.66365027, -11.599916013), (-39.247747899, -10.803382818))
        make_face(mode=Mode.SUBTRACT)
        with BuildLine():
            ThreePointArc((-47.802270236, -17.096969605), (-48.5, -15), (-47.802270236, -12.903030395))
            ThreePointArc((-47.802270236, -12.903030395), (-47.828427125, -12.171572875), (-47.096969605, -12.197729764))
            ThreePointArc((-47.096969605, -12.197729764), (-45, -11.5), (-42.903030395, -12.197729764))
            ThreePointArc((-42.903030395, -12.197729764), (-42.171572875, -12.171572875), (-42.197729764, -12.903030395))
            ThreePointArc((-42.197729764, -12.903030395), (-41.5, -15), (-42.197729764, -17.096969605))
            ThreePointArc((-42.197729764, -17.096969605), (-42.171572875, -17.828427125), (-42.903030395, -17.802270236))
            ThreePointArc((-42.903030395, -17.802270236), (-45, -18.5), (-47.096969605, -17.802270236))
            ThreePointArc((-47.096969605, -17.802270236), (-47.828427125, -17.828427125), (-47.802270236, -17.096969605))
        make_face(mode=Mode.SUBTRACT)
        with BuildLine():
            ThreePointArc((-12.197729764, -12.903030395), (-11.5, -15), (-12.197729764, -17.096969605))
            ThreePointArc((-12.197729764, -17.096969605), (-12.171572875, -17.828427125), (-12.903030395, -17.802270236))
            ThreePointArc((-12.903030395, -17.802270236), (-15, -18.5), (-17.096969605, -17.802270236))
            ThreePointArc((-17.096969605, -17.802270236), (-17.828427125, -17.828427125), (-17.802270236, -17.096969605))
            ThreePointArc((-17.802270236, -17.096969605), (-18.5, -15), (-17.802270236, -12.903030395))
            ThreePointArc((-17.802270236, -12.903030395), (-17.828427125, -12.171572875), (-17.096969605, -12.197729764))
            ThreePointArc((-17.096969605, -12.197729764), (-15, -11.5), (-12.903030395, -12.197729764))
            ThreePointArc((-12.903030395, -12.197729764), (-12.171572875, -12.171572875), (-12.197729764, -12.903030395))
        make_face(mode=Mode.SUBTRACT)
    extrude(amount=-BOSS_EXTRUDE1_DEPTH)


solid = part.part
